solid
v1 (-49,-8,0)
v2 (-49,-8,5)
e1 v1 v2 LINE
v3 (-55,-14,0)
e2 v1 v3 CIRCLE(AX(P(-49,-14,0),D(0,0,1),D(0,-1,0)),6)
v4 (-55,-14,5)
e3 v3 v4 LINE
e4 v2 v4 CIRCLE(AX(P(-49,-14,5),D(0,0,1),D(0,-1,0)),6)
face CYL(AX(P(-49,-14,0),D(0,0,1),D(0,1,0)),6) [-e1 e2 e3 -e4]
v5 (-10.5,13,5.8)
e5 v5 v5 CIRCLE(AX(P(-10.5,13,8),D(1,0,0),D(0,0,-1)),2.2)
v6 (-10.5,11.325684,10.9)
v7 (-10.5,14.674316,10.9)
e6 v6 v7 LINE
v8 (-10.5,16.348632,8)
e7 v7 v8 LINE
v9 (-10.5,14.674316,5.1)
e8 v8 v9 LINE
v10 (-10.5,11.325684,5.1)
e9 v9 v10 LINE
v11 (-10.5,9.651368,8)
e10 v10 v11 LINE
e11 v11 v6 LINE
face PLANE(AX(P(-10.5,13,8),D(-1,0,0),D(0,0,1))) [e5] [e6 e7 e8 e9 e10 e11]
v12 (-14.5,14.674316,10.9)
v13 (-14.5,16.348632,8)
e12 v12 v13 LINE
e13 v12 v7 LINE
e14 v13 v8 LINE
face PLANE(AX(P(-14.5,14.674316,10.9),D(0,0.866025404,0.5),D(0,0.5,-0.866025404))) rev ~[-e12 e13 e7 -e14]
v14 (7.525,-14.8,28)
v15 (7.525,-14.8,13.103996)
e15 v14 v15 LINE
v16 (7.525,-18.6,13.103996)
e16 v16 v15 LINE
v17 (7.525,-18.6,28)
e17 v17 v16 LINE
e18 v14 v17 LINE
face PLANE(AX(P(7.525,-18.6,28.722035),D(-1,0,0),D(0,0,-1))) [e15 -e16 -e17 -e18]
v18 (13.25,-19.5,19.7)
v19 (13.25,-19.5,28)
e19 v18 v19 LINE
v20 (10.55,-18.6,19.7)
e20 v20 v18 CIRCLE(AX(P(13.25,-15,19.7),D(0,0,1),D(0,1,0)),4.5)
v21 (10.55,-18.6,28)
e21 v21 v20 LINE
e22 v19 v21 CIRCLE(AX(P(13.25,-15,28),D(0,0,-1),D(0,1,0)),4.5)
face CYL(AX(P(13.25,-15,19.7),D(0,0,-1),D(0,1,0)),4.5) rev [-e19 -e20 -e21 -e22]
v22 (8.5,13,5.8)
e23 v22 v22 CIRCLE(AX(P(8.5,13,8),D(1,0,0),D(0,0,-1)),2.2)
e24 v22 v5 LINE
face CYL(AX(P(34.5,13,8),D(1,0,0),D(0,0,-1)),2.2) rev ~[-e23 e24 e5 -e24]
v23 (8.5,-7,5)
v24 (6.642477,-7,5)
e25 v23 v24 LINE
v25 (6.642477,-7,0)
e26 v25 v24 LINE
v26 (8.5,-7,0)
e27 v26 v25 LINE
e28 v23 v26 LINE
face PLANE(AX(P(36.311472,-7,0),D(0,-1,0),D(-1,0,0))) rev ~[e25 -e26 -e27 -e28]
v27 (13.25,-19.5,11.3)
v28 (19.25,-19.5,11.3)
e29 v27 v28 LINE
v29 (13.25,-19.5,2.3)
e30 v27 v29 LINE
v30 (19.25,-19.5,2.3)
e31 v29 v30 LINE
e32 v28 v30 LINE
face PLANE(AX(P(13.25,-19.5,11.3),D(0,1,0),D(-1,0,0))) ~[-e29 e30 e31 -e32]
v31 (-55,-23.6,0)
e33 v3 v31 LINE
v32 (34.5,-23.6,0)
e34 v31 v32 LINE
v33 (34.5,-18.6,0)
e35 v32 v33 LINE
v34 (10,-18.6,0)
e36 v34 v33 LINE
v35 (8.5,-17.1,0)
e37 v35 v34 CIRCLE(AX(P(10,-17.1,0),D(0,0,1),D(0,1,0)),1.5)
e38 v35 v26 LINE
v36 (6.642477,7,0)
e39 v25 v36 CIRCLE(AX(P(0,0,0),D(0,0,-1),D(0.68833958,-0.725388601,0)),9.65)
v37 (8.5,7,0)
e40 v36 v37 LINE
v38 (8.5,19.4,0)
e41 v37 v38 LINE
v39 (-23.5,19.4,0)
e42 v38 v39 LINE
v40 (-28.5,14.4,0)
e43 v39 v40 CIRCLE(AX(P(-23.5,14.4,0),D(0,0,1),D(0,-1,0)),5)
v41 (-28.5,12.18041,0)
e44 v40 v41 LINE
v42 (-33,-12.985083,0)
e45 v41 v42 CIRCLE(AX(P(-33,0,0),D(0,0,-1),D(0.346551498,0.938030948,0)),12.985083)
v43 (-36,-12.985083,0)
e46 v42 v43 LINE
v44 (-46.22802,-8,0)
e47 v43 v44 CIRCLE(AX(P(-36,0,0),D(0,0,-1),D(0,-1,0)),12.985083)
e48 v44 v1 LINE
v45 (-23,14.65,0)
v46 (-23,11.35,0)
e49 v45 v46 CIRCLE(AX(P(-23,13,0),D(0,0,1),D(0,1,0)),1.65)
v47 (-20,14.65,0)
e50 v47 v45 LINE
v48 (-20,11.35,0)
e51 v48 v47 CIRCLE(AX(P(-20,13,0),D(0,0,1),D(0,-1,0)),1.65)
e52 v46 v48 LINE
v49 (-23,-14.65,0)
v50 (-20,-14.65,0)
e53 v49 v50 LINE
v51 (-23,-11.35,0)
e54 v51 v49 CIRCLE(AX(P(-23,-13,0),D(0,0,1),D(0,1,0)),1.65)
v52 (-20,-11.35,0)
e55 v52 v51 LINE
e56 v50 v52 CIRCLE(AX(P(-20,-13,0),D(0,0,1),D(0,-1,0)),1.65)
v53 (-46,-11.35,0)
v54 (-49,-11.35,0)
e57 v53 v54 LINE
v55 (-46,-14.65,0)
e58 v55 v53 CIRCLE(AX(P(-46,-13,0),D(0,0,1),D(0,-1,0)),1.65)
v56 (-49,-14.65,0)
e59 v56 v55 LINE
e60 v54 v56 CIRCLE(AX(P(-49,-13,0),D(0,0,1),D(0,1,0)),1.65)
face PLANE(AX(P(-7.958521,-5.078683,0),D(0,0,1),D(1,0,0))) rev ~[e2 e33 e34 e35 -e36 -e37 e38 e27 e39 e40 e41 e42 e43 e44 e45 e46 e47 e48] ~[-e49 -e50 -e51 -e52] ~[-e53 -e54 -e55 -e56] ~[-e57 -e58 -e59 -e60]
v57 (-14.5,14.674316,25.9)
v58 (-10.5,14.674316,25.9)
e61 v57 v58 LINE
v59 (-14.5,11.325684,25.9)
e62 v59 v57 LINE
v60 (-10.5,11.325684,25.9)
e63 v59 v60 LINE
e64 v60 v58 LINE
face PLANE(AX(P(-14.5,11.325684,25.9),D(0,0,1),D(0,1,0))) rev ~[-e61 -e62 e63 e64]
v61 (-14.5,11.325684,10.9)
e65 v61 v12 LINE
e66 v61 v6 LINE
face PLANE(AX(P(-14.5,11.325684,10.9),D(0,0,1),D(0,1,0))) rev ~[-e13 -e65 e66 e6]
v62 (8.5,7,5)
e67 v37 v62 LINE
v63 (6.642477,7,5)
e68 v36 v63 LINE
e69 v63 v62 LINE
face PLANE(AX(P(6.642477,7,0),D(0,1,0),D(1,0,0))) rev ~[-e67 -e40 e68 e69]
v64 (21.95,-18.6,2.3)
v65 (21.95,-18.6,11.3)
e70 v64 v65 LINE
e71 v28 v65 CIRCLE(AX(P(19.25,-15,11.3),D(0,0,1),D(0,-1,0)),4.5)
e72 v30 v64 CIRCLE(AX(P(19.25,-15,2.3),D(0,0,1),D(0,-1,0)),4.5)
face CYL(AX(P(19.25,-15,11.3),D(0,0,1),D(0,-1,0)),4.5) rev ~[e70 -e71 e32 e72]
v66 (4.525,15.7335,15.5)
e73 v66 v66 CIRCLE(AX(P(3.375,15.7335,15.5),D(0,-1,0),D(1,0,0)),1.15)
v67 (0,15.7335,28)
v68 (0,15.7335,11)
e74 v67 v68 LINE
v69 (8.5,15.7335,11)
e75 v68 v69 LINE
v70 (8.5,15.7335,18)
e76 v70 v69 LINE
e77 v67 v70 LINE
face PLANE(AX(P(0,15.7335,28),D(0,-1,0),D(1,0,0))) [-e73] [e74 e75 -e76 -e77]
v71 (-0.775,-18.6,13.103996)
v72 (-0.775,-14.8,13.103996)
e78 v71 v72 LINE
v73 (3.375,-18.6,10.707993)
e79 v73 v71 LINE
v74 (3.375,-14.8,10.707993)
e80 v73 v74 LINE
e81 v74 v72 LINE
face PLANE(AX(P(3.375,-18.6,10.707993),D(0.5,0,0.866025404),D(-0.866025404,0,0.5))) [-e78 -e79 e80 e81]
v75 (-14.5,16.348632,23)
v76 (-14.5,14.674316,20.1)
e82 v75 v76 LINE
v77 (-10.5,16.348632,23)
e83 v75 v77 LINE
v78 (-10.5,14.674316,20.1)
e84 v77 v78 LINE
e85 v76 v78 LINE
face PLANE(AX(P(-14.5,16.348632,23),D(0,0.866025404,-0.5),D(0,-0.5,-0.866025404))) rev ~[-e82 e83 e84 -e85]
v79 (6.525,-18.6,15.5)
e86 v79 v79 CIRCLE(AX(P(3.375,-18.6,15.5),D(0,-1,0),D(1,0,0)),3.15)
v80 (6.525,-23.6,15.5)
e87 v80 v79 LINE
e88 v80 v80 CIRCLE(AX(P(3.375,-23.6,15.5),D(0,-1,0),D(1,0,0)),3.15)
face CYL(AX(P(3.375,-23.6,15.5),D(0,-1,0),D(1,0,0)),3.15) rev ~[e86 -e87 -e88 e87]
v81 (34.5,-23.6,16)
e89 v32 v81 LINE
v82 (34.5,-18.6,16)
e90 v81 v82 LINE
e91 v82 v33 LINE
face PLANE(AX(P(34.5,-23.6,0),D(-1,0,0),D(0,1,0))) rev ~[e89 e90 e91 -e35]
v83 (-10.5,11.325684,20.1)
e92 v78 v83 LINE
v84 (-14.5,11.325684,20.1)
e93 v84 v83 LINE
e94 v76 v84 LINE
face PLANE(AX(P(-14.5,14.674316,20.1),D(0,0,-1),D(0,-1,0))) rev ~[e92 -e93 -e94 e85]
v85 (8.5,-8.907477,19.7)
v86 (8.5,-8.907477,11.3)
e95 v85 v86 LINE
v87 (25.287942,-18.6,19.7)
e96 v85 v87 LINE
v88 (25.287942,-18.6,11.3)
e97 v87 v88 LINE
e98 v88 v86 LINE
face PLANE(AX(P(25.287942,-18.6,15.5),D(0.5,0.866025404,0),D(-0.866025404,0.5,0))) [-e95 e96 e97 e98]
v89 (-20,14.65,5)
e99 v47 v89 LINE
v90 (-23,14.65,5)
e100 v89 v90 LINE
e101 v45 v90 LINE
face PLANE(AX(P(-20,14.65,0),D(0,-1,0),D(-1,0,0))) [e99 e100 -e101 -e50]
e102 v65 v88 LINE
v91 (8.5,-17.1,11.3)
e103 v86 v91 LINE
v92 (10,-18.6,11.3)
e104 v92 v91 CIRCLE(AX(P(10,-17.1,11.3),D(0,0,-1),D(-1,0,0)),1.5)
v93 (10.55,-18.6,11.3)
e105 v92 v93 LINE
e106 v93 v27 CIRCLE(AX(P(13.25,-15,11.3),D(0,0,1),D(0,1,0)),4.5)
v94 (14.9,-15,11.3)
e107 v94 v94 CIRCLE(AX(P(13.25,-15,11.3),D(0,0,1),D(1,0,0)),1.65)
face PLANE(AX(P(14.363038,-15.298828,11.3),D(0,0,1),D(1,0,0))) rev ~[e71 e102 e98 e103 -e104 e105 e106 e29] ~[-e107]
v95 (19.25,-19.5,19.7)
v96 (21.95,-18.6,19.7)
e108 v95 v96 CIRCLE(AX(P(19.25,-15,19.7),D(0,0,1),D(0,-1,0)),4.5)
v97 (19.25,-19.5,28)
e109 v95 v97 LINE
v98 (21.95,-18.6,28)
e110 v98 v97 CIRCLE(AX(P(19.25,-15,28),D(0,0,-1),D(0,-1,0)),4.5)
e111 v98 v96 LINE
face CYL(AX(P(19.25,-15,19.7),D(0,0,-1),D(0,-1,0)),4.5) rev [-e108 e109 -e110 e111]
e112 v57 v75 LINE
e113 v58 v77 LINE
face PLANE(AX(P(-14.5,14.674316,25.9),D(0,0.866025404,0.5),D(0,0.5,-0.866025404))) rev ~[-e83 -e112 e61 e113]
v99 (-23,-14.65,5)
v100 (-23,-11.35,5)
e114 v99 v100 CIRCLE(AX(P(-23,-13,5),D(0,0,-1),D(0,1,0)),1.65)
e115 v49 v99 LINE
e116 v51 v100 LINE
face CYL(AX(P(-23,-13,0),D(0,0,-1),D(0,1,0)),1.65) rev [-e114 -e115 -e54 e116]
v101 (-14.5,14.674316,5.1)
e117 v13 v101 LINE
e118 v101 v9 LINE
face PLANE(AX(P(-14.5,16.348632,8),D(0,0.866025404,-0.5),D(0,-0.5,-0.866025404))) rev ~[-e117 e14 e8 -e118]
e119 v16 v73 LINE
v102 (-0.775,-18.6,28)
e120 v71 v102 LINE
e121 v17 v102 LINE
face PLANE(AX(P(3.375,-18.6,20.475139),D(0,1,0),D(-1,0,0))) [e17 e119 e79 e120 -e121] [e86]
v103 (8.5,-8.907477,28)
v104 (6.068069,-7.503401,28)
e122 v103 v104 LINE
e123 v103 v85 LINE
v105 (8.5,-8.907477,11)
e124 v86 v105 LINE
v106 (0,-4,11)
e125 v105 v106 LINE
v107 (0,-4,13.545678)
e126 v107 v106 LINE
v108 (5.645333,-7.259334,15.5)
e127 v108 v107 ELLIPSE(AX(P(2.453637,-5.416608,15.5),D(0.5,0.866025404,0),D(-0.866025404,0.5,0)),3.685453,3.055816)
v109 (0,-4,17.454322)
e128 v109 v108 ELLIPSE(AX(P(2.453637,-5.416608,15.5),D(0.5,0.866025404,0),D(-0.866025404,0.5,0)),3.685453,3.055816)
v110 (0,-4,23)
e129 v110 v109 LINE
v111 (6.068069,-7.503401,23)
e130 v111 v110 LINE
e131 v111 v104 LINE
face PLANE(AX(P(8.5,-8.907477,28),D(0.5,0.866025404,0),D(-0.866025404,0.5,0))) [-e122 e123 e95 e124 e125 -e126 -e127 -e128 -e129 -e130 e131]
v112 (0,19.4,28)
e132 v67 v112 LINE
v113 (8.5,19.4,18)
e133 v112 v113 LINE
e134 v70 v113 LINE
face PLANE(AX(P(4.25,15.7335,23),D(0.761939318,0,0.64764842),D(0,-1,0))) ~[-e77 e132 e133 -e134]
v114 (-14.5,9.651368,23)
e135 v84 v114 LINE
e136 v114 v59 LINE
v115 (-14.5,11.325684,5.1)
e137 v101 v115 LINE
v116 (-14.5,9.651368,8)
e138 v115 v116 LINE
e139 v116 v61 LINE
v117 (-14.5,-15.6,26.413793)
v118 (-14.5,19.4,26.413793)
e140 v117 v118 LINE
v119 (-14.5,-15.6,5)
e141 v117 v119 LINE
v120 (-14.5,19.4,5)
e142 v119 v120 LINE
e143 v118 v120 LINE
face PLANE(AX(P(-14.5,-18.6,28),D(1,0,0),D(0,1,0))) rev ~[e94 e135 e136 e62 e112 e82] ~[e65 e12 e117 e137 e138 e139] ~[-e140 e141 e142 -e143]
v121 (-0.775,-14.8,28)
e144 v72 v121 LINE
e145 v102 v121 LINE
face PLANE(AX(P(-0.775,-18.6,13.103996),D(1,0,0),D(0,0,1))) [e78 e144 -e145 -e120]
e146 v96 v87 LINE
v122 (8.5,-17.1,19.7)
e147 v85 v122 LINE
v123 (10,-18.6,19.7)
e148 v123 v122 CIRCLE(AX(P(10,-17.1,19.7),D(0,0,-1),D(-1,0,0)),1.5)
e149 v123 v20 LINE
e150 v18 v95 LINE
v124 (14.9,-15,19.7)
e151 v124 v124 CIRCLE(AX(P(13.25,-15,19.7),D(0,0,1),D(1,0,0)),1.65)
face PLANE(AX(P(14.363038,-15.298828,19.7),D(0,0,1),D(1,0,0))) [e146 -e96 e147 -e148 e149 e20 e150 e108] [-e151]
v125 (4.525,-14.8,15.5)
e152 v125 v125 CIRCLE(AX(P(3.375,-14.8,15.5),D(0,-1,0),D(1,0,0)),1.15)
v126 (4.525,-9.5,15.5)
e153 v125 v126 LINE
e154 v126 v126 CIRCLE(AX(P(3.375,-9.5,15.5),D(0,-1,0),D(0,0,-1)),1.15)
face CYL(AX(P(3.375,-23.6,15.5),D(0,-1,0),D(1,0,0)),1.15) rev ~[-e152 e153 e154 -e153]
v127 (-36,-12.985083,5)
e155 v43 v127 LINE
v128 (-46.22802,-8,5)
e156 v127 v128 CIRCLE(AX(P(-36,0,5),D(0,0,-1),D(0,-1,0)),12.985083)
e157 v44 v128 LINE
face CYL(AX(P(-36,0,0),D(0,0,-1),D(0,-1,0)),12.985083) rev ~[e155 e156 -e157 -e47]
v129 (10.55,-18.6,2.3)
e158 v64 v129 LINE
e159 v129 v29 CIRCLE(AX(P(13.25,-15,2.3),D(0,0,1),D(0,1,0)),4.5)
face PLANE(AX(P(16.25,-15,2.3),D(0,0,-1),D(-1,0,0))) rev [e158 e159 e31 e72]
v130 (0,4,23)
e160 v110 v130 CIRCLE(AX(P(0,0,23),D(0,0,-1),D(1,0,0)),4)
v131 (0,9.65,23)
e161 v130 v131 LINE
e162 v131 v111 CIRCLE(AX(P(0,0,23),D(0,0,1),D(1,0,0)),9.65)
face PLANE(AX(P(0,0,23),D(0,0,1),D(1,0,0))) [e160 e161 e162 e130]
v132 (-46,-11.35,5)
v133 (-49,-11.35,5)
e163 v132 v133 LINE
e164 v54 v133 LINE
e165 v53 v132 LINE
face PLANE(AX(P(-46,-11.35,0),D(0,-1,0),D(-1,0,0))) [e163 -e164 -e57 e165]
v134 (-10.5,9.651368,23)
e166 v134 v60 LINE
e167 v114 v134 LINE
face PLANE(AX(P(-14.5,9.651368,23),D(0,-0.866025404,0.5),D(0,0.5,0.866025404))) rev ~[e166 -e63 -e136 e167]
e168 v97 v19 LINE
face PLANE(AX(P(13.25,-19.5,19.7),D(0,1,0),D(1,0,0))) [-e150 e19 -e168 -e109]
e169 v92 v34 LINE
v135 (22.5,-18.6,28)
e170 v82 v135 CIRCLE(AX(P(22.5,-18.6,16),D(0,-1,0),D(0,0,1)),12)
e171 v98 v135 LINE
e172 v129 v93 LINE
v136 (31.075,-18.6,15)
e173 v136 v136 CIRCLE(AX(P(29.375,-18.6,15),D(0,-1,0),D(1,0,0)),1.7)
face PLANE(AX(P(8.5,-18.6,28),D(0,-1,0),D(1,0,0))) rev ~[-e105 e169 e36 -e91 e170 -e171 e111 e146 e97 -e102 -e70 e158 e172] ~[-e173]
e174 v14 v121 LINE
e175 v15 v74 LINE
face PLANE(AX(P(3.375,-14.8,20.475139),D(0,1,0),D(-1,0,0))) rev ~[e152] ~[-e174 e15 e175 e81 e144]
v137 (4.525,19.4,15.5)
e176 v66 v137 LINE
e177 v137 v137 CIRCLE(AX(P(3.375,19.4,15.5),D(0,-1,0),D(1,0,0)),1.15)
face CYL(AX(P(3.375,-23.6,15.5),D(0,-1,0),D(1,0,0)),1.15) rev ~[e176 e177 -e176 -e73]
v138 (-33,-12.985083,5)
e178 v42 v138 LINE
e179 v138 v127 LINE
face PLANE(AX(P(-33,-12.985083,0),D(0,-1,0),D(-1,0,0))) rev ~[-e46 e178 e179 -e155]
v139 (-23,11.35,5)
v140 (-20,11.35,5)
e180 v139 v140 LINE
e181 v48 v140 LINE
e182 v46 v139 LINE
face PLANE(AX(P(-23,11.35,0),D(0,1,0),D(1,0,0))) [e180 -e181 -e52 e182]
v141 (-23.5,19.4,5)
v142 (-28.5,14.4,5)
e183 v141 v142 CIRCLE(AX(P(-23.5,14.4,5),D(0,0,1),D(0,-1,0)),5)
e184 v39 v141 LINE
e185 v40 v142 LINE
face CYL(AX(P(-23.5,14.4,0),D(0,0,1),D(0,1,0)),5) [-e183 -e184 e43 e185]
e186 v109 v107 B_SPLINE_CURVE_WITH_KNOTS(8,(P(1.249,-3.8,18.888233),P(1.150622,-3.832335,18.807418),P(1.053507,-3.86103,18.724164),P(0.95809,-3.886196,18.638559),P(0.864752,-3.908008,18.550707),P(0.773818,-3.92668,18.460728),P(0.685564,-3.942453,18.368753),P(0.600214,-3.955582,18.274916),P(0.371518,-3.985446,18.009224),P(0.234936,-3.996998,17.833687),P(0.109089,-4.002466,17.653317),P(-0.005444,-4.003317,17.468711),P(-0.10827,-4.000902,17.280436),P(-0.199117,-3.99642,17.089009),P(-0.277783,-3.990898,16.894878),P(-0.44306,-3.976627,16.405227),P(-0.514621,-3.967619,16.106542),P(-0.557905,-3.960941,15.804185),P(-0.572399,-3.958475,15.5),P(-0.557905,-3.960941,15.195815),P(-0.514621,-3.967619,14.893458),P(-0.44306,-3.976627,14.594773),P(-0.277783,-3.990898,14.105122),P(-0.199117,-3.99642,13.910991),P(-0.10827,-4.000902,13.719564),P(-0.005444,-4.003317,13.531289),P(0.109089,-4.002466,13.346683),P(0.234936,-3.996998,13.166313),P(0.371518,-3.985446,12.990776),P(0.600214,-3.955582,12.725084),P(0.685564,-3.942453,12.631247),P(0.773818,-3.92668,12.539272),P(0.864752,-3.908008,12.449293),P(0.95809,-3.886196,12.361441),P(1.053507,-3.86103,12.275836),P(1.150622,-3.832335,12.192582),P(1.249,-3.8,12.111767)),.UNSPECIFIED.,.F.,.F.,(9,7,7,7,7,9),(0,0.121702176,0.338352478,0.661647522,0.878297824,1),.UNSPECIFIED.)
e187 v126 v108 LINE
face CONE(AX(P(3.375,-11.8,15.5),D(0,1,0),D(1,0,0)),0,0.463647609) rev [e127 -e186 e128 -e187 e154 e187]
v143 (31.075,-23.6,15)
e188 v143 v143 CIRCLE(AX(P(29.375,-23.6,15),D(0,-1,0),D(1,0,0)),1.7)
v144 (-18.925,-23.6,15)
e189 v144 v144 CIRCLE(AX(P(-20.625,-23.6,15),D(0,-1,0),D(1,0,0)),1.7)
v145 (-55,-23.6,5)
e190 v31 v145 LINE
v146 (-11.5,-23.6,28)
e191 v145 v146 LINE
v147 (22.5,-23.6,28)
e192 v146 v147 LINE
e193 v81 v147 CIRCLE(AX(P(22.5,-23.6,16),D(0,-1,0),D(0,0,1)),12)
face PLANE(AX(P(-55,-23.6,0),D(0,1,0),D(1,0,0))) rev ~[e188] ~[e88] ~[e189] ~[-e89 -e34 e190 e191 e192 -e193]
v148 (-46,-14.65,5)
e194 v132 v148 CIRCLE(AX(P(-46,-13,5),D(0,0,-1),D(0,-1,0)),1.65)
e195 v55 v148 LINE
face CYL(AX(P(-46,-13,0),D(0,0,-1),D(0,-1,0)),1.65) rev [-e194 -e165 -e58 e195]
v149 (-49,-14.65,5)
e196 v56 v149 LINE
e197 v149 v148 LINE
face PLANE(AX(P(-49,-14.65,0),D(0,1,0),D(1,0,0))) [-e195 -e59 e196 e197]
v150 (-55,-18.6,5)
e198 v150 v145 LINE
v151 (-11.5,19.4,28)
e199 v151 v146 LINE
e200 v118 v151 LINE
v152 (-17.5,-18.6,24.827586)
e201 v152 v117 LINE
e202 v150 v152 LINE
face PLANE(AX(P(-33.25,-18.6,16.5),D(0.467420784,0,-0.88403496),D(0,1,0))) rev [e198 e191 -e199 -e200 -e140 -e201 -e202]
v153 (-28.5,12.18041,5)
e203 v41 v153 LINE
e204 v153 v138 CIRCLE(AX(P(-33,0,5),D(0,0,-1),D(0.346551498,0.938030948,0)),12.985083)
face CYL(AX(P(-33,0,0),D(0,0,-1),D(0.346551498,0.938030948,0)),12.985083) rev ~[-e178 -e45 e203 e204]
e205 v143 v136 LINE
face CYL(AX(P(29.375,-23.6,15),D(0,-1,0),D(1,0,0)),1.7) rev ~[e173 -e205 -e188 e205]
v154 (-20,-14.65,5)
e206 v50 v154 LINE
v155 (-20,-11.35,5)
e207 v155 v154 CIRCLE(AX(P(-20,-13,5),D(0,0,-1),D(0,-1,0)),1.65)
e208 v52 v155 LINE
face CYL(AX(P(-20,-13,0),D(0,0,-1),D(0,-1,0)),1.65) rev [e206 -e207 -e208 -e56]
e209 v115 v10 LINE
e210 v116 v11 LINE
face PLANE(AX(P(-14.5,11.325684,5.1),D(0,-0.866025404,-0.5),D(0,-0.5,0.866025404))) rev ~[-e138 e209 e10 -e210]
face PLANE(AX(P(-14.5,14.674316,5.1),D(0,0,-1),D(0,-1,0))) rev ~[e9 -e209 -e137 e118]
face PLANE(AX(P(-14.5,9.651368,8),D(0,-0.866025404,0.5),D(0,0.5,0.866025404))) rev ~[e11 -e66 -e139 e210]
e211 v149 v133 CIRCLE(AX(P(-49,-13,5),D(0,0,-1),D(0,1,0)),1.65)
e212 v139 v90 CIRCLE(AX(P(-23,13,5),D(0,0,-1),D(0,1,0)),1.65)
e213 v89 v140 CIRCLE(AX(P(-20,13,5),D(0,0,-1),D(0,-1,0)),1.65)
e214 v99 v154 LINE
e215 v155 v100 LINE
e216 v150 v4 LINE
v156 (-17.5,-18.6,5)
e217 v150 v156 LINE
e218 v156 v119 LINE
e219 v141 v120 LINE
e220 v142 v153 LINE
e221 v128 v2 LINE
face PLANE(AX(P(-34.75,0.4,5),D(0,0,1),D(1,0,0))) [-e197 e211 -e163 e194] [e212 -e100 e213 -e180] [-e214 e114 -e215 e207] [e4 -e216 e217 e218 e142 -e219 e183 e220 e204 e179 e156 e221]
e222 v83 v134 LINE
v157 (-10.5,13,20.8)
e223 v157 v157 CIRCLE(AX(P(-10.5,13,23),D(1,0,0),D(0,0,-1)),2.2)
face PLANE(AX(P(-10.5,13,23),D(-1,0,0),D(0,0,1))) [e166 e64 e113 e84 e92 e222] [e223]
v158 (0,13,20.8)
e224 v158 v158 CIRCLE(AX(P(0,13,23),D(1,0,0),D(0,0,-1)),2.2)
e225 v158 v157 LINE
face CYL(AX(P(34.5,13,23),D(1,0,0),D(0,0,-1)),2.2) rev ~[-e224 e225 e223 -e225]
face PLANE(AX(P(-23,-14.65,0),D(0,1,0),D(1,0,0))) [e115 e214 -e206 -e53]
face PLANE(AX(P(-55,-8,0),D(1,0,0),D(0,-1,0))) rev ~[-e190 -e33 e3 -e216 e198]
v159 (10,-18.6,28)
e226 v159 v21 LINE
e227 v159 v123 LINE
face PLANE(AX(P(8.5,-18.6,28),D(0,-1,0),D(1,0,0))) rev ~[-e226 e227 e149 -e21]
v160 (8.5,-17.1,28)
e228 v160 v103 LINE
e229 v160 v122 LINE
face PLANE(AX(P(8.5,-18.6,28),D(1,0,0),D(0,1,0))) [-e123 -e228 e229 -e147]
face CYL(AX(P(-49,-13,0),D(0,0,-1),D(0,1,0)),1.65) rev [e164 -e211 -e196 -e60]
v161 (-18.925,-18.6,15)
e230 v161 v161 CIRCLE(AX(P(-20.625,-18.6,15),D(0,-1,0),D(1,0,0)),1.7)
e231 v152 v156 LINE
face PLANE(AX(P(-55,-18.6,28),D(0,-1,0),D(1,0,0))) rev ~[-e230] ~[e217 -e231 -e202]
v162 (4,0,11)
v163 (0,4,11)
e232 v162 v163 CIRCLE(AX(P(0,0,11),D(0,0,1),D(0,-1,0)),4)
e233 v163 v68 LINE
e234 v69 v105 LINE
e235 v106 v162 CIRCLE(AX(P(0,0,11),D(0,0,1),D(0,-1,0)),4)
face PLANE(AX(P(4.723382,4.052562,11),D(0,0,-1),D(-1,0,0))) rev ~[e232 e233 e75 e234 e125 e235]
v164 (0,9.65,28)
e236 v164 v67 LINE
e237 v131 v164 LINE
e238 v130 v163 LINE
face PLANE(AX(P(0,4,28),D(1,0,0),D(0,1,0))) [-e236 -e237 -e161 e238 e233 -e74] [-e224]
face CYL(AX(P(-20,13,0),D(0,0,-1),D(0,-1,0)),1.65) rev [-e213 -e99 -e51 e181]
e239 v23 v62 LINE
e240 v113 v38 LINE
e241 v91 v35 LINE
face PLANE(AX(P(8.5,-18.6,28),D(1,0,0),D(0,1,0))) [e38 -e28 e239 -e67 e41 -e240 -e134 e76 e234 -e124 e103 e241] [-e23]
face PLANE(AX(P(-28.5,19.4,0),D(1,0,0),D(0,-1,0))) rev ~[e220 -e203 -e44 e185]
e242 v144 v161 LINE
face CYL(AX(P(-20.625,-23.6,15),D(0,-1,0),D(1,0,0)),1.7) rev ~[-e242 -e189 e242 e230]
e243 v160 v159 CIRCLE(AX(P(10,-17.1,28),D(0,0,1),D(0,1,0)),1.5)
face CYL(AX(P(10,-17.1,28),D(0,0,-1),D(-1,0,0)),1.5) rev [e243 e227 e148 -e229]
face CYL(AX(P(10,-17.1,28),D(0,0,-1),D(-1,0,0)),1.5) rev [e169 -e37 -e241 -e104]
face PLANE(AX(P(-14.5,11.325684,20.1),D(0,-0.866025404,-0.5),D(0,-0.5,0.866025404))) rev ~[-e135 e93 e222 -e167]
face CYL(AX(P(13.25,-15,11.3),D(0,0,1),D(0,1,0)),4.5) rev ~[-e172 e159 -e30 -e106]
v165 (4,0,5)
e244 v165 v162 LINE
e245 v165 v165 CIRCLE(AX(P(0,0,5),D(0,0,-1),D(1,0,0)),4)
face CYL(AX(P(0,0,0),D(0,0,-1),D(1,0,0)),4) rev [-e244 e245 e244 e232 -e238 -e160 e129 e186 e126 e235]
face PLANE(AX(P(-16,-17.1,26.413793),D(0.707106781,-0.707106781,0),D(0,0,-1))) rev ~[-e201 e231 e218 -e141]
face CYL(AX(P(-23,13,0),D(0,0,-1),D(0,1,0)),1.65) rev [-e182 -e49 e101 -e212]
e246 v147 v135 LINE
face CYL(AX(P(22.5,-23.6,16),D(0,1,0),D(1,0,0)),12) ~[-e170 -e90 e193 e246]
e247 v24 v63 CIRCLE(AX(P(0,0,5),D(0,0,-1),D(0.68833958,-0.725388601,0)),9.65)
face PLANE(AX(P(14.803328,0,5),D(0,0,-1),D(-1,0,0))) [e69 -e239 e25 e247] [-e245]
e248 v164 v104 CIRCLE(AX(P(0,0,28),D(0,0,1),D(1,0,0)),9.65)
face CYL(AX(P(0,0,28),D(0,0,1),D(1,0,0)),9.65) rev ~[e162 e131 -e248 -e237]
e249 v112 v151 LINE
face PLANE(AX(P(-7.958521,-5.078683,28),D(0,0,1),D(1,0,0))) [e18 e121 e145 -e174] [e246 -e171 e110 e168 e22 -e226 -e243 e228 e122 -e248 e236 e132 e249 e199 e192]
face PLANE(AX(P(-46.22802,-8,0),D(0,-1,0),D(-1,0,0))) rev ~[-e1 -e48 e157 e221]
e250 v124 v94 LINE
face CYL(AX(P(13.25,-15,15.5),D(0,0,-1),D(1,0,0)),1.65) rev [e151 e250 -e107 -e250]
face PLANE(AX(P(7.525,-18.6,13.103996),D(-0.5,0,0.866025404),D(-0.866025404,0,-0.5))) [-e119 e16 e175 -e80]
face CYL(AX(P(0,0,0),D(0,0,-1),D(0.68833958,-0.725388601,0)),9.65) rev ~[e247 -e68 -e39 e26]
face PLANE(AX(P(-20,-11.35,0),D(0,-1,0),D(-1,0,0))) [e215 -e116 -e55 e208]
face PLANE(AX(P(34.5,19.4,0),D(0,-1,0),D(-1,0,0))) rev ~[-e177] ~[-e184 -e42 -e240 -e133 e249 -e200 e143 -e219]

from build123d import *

# Parameters (mm, degrees)
SKETCH1_R                = 4
BOSS_EXTRUDE1_DEPTH      = 28
SKETCH2_W                = 40.5
SKETCH2_H                = 38
CUT_EXTRUDE1_DEPTH       = 23
SKETCH3_R                = 9.65
CUT_EXTRUDE2_DEPTH       = 5
SKETCH8_R                = 1.15
CUT_EXTRUDE7_DEPTH       = 44
CHAMFER1_SIZE            = 23
CHAMFER1_SIZE2           = 43.5
SKETCH9_R                = 2.2
CUT_EXTRUDE8_DEPTH       = 90.5
CUT_EXTRUDE9_DEPTH       = 3
CUT_EXTRUDE9_DEPTH_BACK  = 4
CHAMFER2_SIZE            = 3
SKETCH16_W               = 26
SKETCH16_H               = 38
CUT_EXTRUDE12_DEPTH      = 29.0000001
CUT_EXTRUDE3_DEPTH       = 5
FILLET6_R                = 1.5
CUT_EXTRUDE13_DEPTH      = 17
SKETCH21_R               = 1.65
BOSS_EXTRUDE3_DEPTH      = 4.2
BOSS_EXTRUDE3_DEPTH_BACK = 4.2
SKETCH15_R               = 1.7
CUT_EXTRUDE11_DEPTH      = 44
CUT_EXTRUDE14_DEPTH      = 9
CHAMFER4_SIZE            = 8.5
CHAMFER4_SIZE2           = 10
FILLET1_R                = 5
FILLET2_R                = 6
FILLET4_R                = 12
CUT_EXTRUDE15_DEPTH      = 3.8
CUT_EXTRUDE18_REACH      = 45
SKETCH26_R               = 3.15


with BuildPart() as part:
    # Sketch1 → Boss-Extrude1 (new body)
    with BuildSketch(Plane.XY):
        with BuildLine():
            Line((-55, -23.6), (34.5, -23.6))
            Line((34.5, -23.6), (34.5, 19.4))
            Line((34.5, 19.4), (-28.5, 19.4))
            Line((-28.5, 19.4), (-28.5, 12.180409823))
            ThreePointArc((-28.5, 12.180409823), (-20.217668105, -2.285689125), (-33, -12.985083113))
            Line((-33, -12.985083113), (-36, -12.985083113))
            ThreePointArc((-36, -12.985083113), (-41.689100041, -11.672468641), (-46.228019527, -8))
            Line((-46.228019527, -8), (-55, -8))
            Line((-55, -8), (-55, -23.6))
        make_face()
        Circle(SKETCH1_R, mode=Mode.SUBTRACT)
        with BuildLine():
            Line((-23, 11.35), (-20, 11.35))
            ThreePointArc((-20, 11.35), (-18.35, 13), (-20, 14.65))
            Line((-20, 14.65), (-23, 14.65))
            ThreePointArc((-23, 14.65), (-24.65, 13), (-23, 11.35))
        make_face(mode=Mode.SUBTRACT)
        with BuildLine():
            Line((-23, -14.65), (-20, -14.65))
            ThreePointArc((-20, -14.65), (-18.35, -13), (-20, -11.35))
            Line((-20, -11.35), (-23, -11.35))
            ThreePointArc((-23, -11.35), (-24.65, -13), (-23, -14.65))
        make_face(mode=Mode.SUBTRACT)
        with BuildLine():
            Line((-46, -11.35), (-49, -11.35))
            ThreePointArc((-49, -11.35), (-50.65, -13), (-49, -14.65))
            Line((-49, -14.65), (-46, -14.65))
            ThreePointArc((-46, -14.65), (-44.35, -13), (-46, -11.35))
        make_face(mode=Mode.SUBTRACT)
    extrude(amount=BOSS_EXTRUDE1_DEPTH)

    # Sketch2 → Cut-Extrude1 (cut)
    with BuildSketch(Plane.XY.offset(28)):
        with Locations((-34.75, 0.4)):
            Rectangle(SKETCH2_W, SKETCH2_H)
    extrude(amount=-CUT_EXTRUDE1_DEPTH, mode=Mode.SUBTRACT)

    # Sketch3 → Cut-Extrude2 (cut)
    with BuildSketch(Plane.XY.offset(28)):
        Circle(SKETCH3_R)
    extrude(amount=-CUT_EXTRUDE2_DEPTH, mode=Mode.SUBTRACT)

    # Sketch8 → Cut-Extrude7 (cut, through all)
    with BuildSketch(Plane.XZ.offset(23.6)):
        with Locations((3.375, 15.5)):
            Circle(SKETCH8_R)
    extrude(amount=-CUT_EXTRUDE7_DEPTH, mode=Mode.SUBTRACT)

    # Chamfer1
    chamfer1_edges = [part.edges().sort_by_distance(p)[0] for p in [
        (-55, -21.1, 28),
    ]]
    chamfer1_side = [part.faces().sort_by_distance(p)[0] for p in [
        (-55, -18.958031088, 10.841968912),
    ]]
    chamfer(chamfer1_edges, length=CHAMFER1_SIZE, length2=CHAMFER1_SIZE2, reference=chamfer1_side[0])

    # Sketch9 → Cut-Extrude8 (cut, through all)
    with BuildSketch(Plane(origin=(34.5, 0, 0), x_dir=(0, 0, -1), z_dir=(1, 0, 0))):
        with Locations((-8, 13)):
            Circle(SKETCH9_R)
        with Locations((-23, 13)):
            Circle(SKETCH9_R)
    extrude(amount=-CUT_EXTRUDE8_DEPTH, mode=Mode.SUBTRACT)

    # Sketch10 → Cut-Extrude9 (cut, two sides)
    with BuildSketch(Plane.ZY.offset(14.5)) as cut_extrude9_sk:
        Polygon((5.1, 14.674315781), (5.1, 11.325684219), (8, 9.651368439), (10.9, 11.325684219), (10.9, 14.674315781), (8, 16.348631561), align=None)
        Polygon((25.9, 11.325684219), (25.9, 14.674315781), (23, 16.348631561), (20.1, 14.674315781), (20.1, 11.325684219), (23, 9.651368439), align=None)
    extrude(amount=CUT_EXTRUDE9_DEPTH, mode=Mode.SUBTRACT)
    extrude(cut_extrude9_sk.sketch, amount=-CUT_EXTRUDE9_DEPTH_BACK, mode=Mode.SUBTRACT)

    # Chamfer2
    chamfer2_edges = [part.edges().sort_by_distance(p)[0] for p in [
        (-14.5, -18.6, 15.706896552),
    ]]
    chamfer(chamfer2_edges, length=CHAMFER2_SIZE)

    # Sketch16 → Cut-Extrude12 (cut, through all)
    with BuildSketch(Plane.XY.offset(28)):
        with Locations((21.5, 0.4)):
            Rectangle(SKETCH16_W, SKETCH16_H)
    extrude(amount=-CUT_EXTRUDE12_DEPTH, mode=Mode.SUBTRACT)

    # Sketch4 → Cut-Extrude3 (cut)
    with BuildSketch(Plane(origin=(0, 0, 0), x_dir=(-1, 0, 0), z_dir=(0, 0, -1))):
        with BuildLine():
            Line((-36.31147183, -7), (-6.642476948, -7))
            ThreePointArc((-6.642476948, -7), (9.65, 0), (-6.642476948, 7))
            Line((-6.642476948, 7), (-36.31147183, 7))
            Line((-36.31147183, 7), (-36.31147183, -7))
        make_face()
    extrude(amount=-CUT_EXTRUDE3_DEPTH, mode=Mode.SUBTRACT)

    # Fillet6
    fillet6_edges = [part.edges().sort_by_distance(p)[0] for p in [
        (8.5, -18.6, 14),
    ]]
    fillet(fillet6_edges, radius=FILLET6_R)

    # Sketch17 → Cut-Extrude13 (cut)
    with BuildSketch(Plane.XY.offset(28)):
        with BuildLine():
            Line((0, 4), (0, 15.733500455))
            Line((0, 15.733500455), (8.5, 15.733500455))
            Line((8.5, 15.733500455), (8.5, -8.907477288))
            Line((8.5, -8.907477288), (0, -4))
            ThreePointArc((0, -4), (4, 0), (0, 4))
        make_face()
    extrude(amount=-CUT_EXTRUDE13_DEPTH, mode=Mode.SUBTRACT)

    # Sketch20 → Cut-Revolve1 (revolve, cut)
    with BuildSketch(Plane.XY.offset(15.5)):
        Polygon((3.375, -11.8), (7.375, -3.8), (3.375, -3.8), align=None)
    revolve(axis=Axis((3.375, -3.8, 15.5), (0, -1, 0)), mode=Mode.SUBTRACT)

    # Sketch21 → Boss-Extrude3 (add, two sides)
    with BuildSketch(Plane.XY.offset(15.5)) as boss_extrude3_sk:
        Polygon((7.25, -8.185789452), (7.25, -18.6), (25.287941791, -18.6), align=None)
        with Locations((13.25, -15)):
            Circle(SKETCH21_R, mode=Mode.SUBTRACT)
    extrude(amount=BOSS_EXTRUDE3_DEPTH)
    extrude(boss_extrude3_sk.sketch, amount=-BOSS_EXTRUDE3_DEPTH_BACK)

    # Sketch15 → Cut-Extrude11 (cut, through all)
    with BuildSketch(Plane.XZ.offset(23.6)):
        with Locations((-20.625, 15)):
            Circle(SKETCH15_R)
        with Locations((29.375, 15)):
            Circle(SKETCH15_R)
    extrude(amount=-CUT_EXTRUDE11_DEPTH, mode=Mode.SUBTRACT)

    # Sketch22 → Cut-Extrude14 (cut)
    with BuildSketch(Plane.XY.offset(19.7)):
        with BuildLine():
            Line((13.25, -19.5), (19.25, -19.5))
            ThreePointArc((19.25, -19.5), (23.75, -15), (19.25, -10.5))
            Line((19.25, -10.5), (13.25, -10.5))
            ThreePointArc((13.25, -10.5), (8.75, -15), (13.25, -19.5))
        make_face()
    cut_extrude14 = extrude(amount=CUT_EXTRUDE14_DEPTH, mode=Mode.SUBTRACT)

    # Mirror1: Cut-Extrude14 across plane
    add(cut_extrude14.mirror(Plane.XY.offset(15.5)), mode=Mode.SUBTRACT)

    # Chamfer4
    chamfer4_edges = [part.edges().sort_by_distance(p)[0] for p in [
        (8.5, 17.566750228, 28),
    ]]
    chamfer4_side = [part.faces().sort_by_distance(p)[0] for p in [
        (7.87031754, -13.003738644, 28),
    ]]
    chamfer(chamfer4_edges, length=CHAMFER4_SIZE, length2=CHAMFER4_SIZE2, reference=chamfer4_side[0])

    # Fillet1
    fillet1_edges = [part.edges().sort_by_distance(p)[0] for p in [
        (-28.5, 19.4, 2.5),
    ]]
    fillet(fillet1_edges, radius=FILLET1_R)

    # Fillet2
    fillet2_edges = [part.edges().sort_by_distance(p)[0] for p in [
        (-55, -8, 2.5),
    ]]
    fillet(fillet2_edges, radius=FILLET2_R)

    # Fillet4
    fillet4_edges = [part.edges().sort_by_distance(p)[0] for p in [
        (34.5, -21.1, 28),
    ]]
    fillet(fillet4_edges, radius=FILLET4_R)

    # Sketch23 → Cut-Extrude15 (cut)
    with BuildSketch(Plane.XZ.offset(18.6)):
        Polygon((-0.775, 28.722034997), (7.525, 28.722034997), (7.525, 13.103996383), (3.375, 10.707992766), (-0.775, 13.103996383), align=None)
    extrude(amount=-CUT_EXTRUDE15_DEPTH, mode=Mode.SUBTRACT)

    # Sketch26 → Cut-Extrude18 (cut, up to next)
    with BuildSketch(Plane.XZ.offset(23.6), mode=Mode.PRIVATE) as cut_extrude18_sk1:
        with Locations((3.375, 15.5)):
            Circle(SKETCH26_R)
    cut_extrude18_tool1 = extrude(cut_extrude18_sk1.sketch, amount=-CUT_EXTRUDE18_REACH, mode=Mode.PRIVATE) & part.part
    add(cut_extrude18_tool1.solids().sort_by_distance((3.375, -23.6, 15.5))[0], mode=Mode.SUBTRACT)


solid = part.part
